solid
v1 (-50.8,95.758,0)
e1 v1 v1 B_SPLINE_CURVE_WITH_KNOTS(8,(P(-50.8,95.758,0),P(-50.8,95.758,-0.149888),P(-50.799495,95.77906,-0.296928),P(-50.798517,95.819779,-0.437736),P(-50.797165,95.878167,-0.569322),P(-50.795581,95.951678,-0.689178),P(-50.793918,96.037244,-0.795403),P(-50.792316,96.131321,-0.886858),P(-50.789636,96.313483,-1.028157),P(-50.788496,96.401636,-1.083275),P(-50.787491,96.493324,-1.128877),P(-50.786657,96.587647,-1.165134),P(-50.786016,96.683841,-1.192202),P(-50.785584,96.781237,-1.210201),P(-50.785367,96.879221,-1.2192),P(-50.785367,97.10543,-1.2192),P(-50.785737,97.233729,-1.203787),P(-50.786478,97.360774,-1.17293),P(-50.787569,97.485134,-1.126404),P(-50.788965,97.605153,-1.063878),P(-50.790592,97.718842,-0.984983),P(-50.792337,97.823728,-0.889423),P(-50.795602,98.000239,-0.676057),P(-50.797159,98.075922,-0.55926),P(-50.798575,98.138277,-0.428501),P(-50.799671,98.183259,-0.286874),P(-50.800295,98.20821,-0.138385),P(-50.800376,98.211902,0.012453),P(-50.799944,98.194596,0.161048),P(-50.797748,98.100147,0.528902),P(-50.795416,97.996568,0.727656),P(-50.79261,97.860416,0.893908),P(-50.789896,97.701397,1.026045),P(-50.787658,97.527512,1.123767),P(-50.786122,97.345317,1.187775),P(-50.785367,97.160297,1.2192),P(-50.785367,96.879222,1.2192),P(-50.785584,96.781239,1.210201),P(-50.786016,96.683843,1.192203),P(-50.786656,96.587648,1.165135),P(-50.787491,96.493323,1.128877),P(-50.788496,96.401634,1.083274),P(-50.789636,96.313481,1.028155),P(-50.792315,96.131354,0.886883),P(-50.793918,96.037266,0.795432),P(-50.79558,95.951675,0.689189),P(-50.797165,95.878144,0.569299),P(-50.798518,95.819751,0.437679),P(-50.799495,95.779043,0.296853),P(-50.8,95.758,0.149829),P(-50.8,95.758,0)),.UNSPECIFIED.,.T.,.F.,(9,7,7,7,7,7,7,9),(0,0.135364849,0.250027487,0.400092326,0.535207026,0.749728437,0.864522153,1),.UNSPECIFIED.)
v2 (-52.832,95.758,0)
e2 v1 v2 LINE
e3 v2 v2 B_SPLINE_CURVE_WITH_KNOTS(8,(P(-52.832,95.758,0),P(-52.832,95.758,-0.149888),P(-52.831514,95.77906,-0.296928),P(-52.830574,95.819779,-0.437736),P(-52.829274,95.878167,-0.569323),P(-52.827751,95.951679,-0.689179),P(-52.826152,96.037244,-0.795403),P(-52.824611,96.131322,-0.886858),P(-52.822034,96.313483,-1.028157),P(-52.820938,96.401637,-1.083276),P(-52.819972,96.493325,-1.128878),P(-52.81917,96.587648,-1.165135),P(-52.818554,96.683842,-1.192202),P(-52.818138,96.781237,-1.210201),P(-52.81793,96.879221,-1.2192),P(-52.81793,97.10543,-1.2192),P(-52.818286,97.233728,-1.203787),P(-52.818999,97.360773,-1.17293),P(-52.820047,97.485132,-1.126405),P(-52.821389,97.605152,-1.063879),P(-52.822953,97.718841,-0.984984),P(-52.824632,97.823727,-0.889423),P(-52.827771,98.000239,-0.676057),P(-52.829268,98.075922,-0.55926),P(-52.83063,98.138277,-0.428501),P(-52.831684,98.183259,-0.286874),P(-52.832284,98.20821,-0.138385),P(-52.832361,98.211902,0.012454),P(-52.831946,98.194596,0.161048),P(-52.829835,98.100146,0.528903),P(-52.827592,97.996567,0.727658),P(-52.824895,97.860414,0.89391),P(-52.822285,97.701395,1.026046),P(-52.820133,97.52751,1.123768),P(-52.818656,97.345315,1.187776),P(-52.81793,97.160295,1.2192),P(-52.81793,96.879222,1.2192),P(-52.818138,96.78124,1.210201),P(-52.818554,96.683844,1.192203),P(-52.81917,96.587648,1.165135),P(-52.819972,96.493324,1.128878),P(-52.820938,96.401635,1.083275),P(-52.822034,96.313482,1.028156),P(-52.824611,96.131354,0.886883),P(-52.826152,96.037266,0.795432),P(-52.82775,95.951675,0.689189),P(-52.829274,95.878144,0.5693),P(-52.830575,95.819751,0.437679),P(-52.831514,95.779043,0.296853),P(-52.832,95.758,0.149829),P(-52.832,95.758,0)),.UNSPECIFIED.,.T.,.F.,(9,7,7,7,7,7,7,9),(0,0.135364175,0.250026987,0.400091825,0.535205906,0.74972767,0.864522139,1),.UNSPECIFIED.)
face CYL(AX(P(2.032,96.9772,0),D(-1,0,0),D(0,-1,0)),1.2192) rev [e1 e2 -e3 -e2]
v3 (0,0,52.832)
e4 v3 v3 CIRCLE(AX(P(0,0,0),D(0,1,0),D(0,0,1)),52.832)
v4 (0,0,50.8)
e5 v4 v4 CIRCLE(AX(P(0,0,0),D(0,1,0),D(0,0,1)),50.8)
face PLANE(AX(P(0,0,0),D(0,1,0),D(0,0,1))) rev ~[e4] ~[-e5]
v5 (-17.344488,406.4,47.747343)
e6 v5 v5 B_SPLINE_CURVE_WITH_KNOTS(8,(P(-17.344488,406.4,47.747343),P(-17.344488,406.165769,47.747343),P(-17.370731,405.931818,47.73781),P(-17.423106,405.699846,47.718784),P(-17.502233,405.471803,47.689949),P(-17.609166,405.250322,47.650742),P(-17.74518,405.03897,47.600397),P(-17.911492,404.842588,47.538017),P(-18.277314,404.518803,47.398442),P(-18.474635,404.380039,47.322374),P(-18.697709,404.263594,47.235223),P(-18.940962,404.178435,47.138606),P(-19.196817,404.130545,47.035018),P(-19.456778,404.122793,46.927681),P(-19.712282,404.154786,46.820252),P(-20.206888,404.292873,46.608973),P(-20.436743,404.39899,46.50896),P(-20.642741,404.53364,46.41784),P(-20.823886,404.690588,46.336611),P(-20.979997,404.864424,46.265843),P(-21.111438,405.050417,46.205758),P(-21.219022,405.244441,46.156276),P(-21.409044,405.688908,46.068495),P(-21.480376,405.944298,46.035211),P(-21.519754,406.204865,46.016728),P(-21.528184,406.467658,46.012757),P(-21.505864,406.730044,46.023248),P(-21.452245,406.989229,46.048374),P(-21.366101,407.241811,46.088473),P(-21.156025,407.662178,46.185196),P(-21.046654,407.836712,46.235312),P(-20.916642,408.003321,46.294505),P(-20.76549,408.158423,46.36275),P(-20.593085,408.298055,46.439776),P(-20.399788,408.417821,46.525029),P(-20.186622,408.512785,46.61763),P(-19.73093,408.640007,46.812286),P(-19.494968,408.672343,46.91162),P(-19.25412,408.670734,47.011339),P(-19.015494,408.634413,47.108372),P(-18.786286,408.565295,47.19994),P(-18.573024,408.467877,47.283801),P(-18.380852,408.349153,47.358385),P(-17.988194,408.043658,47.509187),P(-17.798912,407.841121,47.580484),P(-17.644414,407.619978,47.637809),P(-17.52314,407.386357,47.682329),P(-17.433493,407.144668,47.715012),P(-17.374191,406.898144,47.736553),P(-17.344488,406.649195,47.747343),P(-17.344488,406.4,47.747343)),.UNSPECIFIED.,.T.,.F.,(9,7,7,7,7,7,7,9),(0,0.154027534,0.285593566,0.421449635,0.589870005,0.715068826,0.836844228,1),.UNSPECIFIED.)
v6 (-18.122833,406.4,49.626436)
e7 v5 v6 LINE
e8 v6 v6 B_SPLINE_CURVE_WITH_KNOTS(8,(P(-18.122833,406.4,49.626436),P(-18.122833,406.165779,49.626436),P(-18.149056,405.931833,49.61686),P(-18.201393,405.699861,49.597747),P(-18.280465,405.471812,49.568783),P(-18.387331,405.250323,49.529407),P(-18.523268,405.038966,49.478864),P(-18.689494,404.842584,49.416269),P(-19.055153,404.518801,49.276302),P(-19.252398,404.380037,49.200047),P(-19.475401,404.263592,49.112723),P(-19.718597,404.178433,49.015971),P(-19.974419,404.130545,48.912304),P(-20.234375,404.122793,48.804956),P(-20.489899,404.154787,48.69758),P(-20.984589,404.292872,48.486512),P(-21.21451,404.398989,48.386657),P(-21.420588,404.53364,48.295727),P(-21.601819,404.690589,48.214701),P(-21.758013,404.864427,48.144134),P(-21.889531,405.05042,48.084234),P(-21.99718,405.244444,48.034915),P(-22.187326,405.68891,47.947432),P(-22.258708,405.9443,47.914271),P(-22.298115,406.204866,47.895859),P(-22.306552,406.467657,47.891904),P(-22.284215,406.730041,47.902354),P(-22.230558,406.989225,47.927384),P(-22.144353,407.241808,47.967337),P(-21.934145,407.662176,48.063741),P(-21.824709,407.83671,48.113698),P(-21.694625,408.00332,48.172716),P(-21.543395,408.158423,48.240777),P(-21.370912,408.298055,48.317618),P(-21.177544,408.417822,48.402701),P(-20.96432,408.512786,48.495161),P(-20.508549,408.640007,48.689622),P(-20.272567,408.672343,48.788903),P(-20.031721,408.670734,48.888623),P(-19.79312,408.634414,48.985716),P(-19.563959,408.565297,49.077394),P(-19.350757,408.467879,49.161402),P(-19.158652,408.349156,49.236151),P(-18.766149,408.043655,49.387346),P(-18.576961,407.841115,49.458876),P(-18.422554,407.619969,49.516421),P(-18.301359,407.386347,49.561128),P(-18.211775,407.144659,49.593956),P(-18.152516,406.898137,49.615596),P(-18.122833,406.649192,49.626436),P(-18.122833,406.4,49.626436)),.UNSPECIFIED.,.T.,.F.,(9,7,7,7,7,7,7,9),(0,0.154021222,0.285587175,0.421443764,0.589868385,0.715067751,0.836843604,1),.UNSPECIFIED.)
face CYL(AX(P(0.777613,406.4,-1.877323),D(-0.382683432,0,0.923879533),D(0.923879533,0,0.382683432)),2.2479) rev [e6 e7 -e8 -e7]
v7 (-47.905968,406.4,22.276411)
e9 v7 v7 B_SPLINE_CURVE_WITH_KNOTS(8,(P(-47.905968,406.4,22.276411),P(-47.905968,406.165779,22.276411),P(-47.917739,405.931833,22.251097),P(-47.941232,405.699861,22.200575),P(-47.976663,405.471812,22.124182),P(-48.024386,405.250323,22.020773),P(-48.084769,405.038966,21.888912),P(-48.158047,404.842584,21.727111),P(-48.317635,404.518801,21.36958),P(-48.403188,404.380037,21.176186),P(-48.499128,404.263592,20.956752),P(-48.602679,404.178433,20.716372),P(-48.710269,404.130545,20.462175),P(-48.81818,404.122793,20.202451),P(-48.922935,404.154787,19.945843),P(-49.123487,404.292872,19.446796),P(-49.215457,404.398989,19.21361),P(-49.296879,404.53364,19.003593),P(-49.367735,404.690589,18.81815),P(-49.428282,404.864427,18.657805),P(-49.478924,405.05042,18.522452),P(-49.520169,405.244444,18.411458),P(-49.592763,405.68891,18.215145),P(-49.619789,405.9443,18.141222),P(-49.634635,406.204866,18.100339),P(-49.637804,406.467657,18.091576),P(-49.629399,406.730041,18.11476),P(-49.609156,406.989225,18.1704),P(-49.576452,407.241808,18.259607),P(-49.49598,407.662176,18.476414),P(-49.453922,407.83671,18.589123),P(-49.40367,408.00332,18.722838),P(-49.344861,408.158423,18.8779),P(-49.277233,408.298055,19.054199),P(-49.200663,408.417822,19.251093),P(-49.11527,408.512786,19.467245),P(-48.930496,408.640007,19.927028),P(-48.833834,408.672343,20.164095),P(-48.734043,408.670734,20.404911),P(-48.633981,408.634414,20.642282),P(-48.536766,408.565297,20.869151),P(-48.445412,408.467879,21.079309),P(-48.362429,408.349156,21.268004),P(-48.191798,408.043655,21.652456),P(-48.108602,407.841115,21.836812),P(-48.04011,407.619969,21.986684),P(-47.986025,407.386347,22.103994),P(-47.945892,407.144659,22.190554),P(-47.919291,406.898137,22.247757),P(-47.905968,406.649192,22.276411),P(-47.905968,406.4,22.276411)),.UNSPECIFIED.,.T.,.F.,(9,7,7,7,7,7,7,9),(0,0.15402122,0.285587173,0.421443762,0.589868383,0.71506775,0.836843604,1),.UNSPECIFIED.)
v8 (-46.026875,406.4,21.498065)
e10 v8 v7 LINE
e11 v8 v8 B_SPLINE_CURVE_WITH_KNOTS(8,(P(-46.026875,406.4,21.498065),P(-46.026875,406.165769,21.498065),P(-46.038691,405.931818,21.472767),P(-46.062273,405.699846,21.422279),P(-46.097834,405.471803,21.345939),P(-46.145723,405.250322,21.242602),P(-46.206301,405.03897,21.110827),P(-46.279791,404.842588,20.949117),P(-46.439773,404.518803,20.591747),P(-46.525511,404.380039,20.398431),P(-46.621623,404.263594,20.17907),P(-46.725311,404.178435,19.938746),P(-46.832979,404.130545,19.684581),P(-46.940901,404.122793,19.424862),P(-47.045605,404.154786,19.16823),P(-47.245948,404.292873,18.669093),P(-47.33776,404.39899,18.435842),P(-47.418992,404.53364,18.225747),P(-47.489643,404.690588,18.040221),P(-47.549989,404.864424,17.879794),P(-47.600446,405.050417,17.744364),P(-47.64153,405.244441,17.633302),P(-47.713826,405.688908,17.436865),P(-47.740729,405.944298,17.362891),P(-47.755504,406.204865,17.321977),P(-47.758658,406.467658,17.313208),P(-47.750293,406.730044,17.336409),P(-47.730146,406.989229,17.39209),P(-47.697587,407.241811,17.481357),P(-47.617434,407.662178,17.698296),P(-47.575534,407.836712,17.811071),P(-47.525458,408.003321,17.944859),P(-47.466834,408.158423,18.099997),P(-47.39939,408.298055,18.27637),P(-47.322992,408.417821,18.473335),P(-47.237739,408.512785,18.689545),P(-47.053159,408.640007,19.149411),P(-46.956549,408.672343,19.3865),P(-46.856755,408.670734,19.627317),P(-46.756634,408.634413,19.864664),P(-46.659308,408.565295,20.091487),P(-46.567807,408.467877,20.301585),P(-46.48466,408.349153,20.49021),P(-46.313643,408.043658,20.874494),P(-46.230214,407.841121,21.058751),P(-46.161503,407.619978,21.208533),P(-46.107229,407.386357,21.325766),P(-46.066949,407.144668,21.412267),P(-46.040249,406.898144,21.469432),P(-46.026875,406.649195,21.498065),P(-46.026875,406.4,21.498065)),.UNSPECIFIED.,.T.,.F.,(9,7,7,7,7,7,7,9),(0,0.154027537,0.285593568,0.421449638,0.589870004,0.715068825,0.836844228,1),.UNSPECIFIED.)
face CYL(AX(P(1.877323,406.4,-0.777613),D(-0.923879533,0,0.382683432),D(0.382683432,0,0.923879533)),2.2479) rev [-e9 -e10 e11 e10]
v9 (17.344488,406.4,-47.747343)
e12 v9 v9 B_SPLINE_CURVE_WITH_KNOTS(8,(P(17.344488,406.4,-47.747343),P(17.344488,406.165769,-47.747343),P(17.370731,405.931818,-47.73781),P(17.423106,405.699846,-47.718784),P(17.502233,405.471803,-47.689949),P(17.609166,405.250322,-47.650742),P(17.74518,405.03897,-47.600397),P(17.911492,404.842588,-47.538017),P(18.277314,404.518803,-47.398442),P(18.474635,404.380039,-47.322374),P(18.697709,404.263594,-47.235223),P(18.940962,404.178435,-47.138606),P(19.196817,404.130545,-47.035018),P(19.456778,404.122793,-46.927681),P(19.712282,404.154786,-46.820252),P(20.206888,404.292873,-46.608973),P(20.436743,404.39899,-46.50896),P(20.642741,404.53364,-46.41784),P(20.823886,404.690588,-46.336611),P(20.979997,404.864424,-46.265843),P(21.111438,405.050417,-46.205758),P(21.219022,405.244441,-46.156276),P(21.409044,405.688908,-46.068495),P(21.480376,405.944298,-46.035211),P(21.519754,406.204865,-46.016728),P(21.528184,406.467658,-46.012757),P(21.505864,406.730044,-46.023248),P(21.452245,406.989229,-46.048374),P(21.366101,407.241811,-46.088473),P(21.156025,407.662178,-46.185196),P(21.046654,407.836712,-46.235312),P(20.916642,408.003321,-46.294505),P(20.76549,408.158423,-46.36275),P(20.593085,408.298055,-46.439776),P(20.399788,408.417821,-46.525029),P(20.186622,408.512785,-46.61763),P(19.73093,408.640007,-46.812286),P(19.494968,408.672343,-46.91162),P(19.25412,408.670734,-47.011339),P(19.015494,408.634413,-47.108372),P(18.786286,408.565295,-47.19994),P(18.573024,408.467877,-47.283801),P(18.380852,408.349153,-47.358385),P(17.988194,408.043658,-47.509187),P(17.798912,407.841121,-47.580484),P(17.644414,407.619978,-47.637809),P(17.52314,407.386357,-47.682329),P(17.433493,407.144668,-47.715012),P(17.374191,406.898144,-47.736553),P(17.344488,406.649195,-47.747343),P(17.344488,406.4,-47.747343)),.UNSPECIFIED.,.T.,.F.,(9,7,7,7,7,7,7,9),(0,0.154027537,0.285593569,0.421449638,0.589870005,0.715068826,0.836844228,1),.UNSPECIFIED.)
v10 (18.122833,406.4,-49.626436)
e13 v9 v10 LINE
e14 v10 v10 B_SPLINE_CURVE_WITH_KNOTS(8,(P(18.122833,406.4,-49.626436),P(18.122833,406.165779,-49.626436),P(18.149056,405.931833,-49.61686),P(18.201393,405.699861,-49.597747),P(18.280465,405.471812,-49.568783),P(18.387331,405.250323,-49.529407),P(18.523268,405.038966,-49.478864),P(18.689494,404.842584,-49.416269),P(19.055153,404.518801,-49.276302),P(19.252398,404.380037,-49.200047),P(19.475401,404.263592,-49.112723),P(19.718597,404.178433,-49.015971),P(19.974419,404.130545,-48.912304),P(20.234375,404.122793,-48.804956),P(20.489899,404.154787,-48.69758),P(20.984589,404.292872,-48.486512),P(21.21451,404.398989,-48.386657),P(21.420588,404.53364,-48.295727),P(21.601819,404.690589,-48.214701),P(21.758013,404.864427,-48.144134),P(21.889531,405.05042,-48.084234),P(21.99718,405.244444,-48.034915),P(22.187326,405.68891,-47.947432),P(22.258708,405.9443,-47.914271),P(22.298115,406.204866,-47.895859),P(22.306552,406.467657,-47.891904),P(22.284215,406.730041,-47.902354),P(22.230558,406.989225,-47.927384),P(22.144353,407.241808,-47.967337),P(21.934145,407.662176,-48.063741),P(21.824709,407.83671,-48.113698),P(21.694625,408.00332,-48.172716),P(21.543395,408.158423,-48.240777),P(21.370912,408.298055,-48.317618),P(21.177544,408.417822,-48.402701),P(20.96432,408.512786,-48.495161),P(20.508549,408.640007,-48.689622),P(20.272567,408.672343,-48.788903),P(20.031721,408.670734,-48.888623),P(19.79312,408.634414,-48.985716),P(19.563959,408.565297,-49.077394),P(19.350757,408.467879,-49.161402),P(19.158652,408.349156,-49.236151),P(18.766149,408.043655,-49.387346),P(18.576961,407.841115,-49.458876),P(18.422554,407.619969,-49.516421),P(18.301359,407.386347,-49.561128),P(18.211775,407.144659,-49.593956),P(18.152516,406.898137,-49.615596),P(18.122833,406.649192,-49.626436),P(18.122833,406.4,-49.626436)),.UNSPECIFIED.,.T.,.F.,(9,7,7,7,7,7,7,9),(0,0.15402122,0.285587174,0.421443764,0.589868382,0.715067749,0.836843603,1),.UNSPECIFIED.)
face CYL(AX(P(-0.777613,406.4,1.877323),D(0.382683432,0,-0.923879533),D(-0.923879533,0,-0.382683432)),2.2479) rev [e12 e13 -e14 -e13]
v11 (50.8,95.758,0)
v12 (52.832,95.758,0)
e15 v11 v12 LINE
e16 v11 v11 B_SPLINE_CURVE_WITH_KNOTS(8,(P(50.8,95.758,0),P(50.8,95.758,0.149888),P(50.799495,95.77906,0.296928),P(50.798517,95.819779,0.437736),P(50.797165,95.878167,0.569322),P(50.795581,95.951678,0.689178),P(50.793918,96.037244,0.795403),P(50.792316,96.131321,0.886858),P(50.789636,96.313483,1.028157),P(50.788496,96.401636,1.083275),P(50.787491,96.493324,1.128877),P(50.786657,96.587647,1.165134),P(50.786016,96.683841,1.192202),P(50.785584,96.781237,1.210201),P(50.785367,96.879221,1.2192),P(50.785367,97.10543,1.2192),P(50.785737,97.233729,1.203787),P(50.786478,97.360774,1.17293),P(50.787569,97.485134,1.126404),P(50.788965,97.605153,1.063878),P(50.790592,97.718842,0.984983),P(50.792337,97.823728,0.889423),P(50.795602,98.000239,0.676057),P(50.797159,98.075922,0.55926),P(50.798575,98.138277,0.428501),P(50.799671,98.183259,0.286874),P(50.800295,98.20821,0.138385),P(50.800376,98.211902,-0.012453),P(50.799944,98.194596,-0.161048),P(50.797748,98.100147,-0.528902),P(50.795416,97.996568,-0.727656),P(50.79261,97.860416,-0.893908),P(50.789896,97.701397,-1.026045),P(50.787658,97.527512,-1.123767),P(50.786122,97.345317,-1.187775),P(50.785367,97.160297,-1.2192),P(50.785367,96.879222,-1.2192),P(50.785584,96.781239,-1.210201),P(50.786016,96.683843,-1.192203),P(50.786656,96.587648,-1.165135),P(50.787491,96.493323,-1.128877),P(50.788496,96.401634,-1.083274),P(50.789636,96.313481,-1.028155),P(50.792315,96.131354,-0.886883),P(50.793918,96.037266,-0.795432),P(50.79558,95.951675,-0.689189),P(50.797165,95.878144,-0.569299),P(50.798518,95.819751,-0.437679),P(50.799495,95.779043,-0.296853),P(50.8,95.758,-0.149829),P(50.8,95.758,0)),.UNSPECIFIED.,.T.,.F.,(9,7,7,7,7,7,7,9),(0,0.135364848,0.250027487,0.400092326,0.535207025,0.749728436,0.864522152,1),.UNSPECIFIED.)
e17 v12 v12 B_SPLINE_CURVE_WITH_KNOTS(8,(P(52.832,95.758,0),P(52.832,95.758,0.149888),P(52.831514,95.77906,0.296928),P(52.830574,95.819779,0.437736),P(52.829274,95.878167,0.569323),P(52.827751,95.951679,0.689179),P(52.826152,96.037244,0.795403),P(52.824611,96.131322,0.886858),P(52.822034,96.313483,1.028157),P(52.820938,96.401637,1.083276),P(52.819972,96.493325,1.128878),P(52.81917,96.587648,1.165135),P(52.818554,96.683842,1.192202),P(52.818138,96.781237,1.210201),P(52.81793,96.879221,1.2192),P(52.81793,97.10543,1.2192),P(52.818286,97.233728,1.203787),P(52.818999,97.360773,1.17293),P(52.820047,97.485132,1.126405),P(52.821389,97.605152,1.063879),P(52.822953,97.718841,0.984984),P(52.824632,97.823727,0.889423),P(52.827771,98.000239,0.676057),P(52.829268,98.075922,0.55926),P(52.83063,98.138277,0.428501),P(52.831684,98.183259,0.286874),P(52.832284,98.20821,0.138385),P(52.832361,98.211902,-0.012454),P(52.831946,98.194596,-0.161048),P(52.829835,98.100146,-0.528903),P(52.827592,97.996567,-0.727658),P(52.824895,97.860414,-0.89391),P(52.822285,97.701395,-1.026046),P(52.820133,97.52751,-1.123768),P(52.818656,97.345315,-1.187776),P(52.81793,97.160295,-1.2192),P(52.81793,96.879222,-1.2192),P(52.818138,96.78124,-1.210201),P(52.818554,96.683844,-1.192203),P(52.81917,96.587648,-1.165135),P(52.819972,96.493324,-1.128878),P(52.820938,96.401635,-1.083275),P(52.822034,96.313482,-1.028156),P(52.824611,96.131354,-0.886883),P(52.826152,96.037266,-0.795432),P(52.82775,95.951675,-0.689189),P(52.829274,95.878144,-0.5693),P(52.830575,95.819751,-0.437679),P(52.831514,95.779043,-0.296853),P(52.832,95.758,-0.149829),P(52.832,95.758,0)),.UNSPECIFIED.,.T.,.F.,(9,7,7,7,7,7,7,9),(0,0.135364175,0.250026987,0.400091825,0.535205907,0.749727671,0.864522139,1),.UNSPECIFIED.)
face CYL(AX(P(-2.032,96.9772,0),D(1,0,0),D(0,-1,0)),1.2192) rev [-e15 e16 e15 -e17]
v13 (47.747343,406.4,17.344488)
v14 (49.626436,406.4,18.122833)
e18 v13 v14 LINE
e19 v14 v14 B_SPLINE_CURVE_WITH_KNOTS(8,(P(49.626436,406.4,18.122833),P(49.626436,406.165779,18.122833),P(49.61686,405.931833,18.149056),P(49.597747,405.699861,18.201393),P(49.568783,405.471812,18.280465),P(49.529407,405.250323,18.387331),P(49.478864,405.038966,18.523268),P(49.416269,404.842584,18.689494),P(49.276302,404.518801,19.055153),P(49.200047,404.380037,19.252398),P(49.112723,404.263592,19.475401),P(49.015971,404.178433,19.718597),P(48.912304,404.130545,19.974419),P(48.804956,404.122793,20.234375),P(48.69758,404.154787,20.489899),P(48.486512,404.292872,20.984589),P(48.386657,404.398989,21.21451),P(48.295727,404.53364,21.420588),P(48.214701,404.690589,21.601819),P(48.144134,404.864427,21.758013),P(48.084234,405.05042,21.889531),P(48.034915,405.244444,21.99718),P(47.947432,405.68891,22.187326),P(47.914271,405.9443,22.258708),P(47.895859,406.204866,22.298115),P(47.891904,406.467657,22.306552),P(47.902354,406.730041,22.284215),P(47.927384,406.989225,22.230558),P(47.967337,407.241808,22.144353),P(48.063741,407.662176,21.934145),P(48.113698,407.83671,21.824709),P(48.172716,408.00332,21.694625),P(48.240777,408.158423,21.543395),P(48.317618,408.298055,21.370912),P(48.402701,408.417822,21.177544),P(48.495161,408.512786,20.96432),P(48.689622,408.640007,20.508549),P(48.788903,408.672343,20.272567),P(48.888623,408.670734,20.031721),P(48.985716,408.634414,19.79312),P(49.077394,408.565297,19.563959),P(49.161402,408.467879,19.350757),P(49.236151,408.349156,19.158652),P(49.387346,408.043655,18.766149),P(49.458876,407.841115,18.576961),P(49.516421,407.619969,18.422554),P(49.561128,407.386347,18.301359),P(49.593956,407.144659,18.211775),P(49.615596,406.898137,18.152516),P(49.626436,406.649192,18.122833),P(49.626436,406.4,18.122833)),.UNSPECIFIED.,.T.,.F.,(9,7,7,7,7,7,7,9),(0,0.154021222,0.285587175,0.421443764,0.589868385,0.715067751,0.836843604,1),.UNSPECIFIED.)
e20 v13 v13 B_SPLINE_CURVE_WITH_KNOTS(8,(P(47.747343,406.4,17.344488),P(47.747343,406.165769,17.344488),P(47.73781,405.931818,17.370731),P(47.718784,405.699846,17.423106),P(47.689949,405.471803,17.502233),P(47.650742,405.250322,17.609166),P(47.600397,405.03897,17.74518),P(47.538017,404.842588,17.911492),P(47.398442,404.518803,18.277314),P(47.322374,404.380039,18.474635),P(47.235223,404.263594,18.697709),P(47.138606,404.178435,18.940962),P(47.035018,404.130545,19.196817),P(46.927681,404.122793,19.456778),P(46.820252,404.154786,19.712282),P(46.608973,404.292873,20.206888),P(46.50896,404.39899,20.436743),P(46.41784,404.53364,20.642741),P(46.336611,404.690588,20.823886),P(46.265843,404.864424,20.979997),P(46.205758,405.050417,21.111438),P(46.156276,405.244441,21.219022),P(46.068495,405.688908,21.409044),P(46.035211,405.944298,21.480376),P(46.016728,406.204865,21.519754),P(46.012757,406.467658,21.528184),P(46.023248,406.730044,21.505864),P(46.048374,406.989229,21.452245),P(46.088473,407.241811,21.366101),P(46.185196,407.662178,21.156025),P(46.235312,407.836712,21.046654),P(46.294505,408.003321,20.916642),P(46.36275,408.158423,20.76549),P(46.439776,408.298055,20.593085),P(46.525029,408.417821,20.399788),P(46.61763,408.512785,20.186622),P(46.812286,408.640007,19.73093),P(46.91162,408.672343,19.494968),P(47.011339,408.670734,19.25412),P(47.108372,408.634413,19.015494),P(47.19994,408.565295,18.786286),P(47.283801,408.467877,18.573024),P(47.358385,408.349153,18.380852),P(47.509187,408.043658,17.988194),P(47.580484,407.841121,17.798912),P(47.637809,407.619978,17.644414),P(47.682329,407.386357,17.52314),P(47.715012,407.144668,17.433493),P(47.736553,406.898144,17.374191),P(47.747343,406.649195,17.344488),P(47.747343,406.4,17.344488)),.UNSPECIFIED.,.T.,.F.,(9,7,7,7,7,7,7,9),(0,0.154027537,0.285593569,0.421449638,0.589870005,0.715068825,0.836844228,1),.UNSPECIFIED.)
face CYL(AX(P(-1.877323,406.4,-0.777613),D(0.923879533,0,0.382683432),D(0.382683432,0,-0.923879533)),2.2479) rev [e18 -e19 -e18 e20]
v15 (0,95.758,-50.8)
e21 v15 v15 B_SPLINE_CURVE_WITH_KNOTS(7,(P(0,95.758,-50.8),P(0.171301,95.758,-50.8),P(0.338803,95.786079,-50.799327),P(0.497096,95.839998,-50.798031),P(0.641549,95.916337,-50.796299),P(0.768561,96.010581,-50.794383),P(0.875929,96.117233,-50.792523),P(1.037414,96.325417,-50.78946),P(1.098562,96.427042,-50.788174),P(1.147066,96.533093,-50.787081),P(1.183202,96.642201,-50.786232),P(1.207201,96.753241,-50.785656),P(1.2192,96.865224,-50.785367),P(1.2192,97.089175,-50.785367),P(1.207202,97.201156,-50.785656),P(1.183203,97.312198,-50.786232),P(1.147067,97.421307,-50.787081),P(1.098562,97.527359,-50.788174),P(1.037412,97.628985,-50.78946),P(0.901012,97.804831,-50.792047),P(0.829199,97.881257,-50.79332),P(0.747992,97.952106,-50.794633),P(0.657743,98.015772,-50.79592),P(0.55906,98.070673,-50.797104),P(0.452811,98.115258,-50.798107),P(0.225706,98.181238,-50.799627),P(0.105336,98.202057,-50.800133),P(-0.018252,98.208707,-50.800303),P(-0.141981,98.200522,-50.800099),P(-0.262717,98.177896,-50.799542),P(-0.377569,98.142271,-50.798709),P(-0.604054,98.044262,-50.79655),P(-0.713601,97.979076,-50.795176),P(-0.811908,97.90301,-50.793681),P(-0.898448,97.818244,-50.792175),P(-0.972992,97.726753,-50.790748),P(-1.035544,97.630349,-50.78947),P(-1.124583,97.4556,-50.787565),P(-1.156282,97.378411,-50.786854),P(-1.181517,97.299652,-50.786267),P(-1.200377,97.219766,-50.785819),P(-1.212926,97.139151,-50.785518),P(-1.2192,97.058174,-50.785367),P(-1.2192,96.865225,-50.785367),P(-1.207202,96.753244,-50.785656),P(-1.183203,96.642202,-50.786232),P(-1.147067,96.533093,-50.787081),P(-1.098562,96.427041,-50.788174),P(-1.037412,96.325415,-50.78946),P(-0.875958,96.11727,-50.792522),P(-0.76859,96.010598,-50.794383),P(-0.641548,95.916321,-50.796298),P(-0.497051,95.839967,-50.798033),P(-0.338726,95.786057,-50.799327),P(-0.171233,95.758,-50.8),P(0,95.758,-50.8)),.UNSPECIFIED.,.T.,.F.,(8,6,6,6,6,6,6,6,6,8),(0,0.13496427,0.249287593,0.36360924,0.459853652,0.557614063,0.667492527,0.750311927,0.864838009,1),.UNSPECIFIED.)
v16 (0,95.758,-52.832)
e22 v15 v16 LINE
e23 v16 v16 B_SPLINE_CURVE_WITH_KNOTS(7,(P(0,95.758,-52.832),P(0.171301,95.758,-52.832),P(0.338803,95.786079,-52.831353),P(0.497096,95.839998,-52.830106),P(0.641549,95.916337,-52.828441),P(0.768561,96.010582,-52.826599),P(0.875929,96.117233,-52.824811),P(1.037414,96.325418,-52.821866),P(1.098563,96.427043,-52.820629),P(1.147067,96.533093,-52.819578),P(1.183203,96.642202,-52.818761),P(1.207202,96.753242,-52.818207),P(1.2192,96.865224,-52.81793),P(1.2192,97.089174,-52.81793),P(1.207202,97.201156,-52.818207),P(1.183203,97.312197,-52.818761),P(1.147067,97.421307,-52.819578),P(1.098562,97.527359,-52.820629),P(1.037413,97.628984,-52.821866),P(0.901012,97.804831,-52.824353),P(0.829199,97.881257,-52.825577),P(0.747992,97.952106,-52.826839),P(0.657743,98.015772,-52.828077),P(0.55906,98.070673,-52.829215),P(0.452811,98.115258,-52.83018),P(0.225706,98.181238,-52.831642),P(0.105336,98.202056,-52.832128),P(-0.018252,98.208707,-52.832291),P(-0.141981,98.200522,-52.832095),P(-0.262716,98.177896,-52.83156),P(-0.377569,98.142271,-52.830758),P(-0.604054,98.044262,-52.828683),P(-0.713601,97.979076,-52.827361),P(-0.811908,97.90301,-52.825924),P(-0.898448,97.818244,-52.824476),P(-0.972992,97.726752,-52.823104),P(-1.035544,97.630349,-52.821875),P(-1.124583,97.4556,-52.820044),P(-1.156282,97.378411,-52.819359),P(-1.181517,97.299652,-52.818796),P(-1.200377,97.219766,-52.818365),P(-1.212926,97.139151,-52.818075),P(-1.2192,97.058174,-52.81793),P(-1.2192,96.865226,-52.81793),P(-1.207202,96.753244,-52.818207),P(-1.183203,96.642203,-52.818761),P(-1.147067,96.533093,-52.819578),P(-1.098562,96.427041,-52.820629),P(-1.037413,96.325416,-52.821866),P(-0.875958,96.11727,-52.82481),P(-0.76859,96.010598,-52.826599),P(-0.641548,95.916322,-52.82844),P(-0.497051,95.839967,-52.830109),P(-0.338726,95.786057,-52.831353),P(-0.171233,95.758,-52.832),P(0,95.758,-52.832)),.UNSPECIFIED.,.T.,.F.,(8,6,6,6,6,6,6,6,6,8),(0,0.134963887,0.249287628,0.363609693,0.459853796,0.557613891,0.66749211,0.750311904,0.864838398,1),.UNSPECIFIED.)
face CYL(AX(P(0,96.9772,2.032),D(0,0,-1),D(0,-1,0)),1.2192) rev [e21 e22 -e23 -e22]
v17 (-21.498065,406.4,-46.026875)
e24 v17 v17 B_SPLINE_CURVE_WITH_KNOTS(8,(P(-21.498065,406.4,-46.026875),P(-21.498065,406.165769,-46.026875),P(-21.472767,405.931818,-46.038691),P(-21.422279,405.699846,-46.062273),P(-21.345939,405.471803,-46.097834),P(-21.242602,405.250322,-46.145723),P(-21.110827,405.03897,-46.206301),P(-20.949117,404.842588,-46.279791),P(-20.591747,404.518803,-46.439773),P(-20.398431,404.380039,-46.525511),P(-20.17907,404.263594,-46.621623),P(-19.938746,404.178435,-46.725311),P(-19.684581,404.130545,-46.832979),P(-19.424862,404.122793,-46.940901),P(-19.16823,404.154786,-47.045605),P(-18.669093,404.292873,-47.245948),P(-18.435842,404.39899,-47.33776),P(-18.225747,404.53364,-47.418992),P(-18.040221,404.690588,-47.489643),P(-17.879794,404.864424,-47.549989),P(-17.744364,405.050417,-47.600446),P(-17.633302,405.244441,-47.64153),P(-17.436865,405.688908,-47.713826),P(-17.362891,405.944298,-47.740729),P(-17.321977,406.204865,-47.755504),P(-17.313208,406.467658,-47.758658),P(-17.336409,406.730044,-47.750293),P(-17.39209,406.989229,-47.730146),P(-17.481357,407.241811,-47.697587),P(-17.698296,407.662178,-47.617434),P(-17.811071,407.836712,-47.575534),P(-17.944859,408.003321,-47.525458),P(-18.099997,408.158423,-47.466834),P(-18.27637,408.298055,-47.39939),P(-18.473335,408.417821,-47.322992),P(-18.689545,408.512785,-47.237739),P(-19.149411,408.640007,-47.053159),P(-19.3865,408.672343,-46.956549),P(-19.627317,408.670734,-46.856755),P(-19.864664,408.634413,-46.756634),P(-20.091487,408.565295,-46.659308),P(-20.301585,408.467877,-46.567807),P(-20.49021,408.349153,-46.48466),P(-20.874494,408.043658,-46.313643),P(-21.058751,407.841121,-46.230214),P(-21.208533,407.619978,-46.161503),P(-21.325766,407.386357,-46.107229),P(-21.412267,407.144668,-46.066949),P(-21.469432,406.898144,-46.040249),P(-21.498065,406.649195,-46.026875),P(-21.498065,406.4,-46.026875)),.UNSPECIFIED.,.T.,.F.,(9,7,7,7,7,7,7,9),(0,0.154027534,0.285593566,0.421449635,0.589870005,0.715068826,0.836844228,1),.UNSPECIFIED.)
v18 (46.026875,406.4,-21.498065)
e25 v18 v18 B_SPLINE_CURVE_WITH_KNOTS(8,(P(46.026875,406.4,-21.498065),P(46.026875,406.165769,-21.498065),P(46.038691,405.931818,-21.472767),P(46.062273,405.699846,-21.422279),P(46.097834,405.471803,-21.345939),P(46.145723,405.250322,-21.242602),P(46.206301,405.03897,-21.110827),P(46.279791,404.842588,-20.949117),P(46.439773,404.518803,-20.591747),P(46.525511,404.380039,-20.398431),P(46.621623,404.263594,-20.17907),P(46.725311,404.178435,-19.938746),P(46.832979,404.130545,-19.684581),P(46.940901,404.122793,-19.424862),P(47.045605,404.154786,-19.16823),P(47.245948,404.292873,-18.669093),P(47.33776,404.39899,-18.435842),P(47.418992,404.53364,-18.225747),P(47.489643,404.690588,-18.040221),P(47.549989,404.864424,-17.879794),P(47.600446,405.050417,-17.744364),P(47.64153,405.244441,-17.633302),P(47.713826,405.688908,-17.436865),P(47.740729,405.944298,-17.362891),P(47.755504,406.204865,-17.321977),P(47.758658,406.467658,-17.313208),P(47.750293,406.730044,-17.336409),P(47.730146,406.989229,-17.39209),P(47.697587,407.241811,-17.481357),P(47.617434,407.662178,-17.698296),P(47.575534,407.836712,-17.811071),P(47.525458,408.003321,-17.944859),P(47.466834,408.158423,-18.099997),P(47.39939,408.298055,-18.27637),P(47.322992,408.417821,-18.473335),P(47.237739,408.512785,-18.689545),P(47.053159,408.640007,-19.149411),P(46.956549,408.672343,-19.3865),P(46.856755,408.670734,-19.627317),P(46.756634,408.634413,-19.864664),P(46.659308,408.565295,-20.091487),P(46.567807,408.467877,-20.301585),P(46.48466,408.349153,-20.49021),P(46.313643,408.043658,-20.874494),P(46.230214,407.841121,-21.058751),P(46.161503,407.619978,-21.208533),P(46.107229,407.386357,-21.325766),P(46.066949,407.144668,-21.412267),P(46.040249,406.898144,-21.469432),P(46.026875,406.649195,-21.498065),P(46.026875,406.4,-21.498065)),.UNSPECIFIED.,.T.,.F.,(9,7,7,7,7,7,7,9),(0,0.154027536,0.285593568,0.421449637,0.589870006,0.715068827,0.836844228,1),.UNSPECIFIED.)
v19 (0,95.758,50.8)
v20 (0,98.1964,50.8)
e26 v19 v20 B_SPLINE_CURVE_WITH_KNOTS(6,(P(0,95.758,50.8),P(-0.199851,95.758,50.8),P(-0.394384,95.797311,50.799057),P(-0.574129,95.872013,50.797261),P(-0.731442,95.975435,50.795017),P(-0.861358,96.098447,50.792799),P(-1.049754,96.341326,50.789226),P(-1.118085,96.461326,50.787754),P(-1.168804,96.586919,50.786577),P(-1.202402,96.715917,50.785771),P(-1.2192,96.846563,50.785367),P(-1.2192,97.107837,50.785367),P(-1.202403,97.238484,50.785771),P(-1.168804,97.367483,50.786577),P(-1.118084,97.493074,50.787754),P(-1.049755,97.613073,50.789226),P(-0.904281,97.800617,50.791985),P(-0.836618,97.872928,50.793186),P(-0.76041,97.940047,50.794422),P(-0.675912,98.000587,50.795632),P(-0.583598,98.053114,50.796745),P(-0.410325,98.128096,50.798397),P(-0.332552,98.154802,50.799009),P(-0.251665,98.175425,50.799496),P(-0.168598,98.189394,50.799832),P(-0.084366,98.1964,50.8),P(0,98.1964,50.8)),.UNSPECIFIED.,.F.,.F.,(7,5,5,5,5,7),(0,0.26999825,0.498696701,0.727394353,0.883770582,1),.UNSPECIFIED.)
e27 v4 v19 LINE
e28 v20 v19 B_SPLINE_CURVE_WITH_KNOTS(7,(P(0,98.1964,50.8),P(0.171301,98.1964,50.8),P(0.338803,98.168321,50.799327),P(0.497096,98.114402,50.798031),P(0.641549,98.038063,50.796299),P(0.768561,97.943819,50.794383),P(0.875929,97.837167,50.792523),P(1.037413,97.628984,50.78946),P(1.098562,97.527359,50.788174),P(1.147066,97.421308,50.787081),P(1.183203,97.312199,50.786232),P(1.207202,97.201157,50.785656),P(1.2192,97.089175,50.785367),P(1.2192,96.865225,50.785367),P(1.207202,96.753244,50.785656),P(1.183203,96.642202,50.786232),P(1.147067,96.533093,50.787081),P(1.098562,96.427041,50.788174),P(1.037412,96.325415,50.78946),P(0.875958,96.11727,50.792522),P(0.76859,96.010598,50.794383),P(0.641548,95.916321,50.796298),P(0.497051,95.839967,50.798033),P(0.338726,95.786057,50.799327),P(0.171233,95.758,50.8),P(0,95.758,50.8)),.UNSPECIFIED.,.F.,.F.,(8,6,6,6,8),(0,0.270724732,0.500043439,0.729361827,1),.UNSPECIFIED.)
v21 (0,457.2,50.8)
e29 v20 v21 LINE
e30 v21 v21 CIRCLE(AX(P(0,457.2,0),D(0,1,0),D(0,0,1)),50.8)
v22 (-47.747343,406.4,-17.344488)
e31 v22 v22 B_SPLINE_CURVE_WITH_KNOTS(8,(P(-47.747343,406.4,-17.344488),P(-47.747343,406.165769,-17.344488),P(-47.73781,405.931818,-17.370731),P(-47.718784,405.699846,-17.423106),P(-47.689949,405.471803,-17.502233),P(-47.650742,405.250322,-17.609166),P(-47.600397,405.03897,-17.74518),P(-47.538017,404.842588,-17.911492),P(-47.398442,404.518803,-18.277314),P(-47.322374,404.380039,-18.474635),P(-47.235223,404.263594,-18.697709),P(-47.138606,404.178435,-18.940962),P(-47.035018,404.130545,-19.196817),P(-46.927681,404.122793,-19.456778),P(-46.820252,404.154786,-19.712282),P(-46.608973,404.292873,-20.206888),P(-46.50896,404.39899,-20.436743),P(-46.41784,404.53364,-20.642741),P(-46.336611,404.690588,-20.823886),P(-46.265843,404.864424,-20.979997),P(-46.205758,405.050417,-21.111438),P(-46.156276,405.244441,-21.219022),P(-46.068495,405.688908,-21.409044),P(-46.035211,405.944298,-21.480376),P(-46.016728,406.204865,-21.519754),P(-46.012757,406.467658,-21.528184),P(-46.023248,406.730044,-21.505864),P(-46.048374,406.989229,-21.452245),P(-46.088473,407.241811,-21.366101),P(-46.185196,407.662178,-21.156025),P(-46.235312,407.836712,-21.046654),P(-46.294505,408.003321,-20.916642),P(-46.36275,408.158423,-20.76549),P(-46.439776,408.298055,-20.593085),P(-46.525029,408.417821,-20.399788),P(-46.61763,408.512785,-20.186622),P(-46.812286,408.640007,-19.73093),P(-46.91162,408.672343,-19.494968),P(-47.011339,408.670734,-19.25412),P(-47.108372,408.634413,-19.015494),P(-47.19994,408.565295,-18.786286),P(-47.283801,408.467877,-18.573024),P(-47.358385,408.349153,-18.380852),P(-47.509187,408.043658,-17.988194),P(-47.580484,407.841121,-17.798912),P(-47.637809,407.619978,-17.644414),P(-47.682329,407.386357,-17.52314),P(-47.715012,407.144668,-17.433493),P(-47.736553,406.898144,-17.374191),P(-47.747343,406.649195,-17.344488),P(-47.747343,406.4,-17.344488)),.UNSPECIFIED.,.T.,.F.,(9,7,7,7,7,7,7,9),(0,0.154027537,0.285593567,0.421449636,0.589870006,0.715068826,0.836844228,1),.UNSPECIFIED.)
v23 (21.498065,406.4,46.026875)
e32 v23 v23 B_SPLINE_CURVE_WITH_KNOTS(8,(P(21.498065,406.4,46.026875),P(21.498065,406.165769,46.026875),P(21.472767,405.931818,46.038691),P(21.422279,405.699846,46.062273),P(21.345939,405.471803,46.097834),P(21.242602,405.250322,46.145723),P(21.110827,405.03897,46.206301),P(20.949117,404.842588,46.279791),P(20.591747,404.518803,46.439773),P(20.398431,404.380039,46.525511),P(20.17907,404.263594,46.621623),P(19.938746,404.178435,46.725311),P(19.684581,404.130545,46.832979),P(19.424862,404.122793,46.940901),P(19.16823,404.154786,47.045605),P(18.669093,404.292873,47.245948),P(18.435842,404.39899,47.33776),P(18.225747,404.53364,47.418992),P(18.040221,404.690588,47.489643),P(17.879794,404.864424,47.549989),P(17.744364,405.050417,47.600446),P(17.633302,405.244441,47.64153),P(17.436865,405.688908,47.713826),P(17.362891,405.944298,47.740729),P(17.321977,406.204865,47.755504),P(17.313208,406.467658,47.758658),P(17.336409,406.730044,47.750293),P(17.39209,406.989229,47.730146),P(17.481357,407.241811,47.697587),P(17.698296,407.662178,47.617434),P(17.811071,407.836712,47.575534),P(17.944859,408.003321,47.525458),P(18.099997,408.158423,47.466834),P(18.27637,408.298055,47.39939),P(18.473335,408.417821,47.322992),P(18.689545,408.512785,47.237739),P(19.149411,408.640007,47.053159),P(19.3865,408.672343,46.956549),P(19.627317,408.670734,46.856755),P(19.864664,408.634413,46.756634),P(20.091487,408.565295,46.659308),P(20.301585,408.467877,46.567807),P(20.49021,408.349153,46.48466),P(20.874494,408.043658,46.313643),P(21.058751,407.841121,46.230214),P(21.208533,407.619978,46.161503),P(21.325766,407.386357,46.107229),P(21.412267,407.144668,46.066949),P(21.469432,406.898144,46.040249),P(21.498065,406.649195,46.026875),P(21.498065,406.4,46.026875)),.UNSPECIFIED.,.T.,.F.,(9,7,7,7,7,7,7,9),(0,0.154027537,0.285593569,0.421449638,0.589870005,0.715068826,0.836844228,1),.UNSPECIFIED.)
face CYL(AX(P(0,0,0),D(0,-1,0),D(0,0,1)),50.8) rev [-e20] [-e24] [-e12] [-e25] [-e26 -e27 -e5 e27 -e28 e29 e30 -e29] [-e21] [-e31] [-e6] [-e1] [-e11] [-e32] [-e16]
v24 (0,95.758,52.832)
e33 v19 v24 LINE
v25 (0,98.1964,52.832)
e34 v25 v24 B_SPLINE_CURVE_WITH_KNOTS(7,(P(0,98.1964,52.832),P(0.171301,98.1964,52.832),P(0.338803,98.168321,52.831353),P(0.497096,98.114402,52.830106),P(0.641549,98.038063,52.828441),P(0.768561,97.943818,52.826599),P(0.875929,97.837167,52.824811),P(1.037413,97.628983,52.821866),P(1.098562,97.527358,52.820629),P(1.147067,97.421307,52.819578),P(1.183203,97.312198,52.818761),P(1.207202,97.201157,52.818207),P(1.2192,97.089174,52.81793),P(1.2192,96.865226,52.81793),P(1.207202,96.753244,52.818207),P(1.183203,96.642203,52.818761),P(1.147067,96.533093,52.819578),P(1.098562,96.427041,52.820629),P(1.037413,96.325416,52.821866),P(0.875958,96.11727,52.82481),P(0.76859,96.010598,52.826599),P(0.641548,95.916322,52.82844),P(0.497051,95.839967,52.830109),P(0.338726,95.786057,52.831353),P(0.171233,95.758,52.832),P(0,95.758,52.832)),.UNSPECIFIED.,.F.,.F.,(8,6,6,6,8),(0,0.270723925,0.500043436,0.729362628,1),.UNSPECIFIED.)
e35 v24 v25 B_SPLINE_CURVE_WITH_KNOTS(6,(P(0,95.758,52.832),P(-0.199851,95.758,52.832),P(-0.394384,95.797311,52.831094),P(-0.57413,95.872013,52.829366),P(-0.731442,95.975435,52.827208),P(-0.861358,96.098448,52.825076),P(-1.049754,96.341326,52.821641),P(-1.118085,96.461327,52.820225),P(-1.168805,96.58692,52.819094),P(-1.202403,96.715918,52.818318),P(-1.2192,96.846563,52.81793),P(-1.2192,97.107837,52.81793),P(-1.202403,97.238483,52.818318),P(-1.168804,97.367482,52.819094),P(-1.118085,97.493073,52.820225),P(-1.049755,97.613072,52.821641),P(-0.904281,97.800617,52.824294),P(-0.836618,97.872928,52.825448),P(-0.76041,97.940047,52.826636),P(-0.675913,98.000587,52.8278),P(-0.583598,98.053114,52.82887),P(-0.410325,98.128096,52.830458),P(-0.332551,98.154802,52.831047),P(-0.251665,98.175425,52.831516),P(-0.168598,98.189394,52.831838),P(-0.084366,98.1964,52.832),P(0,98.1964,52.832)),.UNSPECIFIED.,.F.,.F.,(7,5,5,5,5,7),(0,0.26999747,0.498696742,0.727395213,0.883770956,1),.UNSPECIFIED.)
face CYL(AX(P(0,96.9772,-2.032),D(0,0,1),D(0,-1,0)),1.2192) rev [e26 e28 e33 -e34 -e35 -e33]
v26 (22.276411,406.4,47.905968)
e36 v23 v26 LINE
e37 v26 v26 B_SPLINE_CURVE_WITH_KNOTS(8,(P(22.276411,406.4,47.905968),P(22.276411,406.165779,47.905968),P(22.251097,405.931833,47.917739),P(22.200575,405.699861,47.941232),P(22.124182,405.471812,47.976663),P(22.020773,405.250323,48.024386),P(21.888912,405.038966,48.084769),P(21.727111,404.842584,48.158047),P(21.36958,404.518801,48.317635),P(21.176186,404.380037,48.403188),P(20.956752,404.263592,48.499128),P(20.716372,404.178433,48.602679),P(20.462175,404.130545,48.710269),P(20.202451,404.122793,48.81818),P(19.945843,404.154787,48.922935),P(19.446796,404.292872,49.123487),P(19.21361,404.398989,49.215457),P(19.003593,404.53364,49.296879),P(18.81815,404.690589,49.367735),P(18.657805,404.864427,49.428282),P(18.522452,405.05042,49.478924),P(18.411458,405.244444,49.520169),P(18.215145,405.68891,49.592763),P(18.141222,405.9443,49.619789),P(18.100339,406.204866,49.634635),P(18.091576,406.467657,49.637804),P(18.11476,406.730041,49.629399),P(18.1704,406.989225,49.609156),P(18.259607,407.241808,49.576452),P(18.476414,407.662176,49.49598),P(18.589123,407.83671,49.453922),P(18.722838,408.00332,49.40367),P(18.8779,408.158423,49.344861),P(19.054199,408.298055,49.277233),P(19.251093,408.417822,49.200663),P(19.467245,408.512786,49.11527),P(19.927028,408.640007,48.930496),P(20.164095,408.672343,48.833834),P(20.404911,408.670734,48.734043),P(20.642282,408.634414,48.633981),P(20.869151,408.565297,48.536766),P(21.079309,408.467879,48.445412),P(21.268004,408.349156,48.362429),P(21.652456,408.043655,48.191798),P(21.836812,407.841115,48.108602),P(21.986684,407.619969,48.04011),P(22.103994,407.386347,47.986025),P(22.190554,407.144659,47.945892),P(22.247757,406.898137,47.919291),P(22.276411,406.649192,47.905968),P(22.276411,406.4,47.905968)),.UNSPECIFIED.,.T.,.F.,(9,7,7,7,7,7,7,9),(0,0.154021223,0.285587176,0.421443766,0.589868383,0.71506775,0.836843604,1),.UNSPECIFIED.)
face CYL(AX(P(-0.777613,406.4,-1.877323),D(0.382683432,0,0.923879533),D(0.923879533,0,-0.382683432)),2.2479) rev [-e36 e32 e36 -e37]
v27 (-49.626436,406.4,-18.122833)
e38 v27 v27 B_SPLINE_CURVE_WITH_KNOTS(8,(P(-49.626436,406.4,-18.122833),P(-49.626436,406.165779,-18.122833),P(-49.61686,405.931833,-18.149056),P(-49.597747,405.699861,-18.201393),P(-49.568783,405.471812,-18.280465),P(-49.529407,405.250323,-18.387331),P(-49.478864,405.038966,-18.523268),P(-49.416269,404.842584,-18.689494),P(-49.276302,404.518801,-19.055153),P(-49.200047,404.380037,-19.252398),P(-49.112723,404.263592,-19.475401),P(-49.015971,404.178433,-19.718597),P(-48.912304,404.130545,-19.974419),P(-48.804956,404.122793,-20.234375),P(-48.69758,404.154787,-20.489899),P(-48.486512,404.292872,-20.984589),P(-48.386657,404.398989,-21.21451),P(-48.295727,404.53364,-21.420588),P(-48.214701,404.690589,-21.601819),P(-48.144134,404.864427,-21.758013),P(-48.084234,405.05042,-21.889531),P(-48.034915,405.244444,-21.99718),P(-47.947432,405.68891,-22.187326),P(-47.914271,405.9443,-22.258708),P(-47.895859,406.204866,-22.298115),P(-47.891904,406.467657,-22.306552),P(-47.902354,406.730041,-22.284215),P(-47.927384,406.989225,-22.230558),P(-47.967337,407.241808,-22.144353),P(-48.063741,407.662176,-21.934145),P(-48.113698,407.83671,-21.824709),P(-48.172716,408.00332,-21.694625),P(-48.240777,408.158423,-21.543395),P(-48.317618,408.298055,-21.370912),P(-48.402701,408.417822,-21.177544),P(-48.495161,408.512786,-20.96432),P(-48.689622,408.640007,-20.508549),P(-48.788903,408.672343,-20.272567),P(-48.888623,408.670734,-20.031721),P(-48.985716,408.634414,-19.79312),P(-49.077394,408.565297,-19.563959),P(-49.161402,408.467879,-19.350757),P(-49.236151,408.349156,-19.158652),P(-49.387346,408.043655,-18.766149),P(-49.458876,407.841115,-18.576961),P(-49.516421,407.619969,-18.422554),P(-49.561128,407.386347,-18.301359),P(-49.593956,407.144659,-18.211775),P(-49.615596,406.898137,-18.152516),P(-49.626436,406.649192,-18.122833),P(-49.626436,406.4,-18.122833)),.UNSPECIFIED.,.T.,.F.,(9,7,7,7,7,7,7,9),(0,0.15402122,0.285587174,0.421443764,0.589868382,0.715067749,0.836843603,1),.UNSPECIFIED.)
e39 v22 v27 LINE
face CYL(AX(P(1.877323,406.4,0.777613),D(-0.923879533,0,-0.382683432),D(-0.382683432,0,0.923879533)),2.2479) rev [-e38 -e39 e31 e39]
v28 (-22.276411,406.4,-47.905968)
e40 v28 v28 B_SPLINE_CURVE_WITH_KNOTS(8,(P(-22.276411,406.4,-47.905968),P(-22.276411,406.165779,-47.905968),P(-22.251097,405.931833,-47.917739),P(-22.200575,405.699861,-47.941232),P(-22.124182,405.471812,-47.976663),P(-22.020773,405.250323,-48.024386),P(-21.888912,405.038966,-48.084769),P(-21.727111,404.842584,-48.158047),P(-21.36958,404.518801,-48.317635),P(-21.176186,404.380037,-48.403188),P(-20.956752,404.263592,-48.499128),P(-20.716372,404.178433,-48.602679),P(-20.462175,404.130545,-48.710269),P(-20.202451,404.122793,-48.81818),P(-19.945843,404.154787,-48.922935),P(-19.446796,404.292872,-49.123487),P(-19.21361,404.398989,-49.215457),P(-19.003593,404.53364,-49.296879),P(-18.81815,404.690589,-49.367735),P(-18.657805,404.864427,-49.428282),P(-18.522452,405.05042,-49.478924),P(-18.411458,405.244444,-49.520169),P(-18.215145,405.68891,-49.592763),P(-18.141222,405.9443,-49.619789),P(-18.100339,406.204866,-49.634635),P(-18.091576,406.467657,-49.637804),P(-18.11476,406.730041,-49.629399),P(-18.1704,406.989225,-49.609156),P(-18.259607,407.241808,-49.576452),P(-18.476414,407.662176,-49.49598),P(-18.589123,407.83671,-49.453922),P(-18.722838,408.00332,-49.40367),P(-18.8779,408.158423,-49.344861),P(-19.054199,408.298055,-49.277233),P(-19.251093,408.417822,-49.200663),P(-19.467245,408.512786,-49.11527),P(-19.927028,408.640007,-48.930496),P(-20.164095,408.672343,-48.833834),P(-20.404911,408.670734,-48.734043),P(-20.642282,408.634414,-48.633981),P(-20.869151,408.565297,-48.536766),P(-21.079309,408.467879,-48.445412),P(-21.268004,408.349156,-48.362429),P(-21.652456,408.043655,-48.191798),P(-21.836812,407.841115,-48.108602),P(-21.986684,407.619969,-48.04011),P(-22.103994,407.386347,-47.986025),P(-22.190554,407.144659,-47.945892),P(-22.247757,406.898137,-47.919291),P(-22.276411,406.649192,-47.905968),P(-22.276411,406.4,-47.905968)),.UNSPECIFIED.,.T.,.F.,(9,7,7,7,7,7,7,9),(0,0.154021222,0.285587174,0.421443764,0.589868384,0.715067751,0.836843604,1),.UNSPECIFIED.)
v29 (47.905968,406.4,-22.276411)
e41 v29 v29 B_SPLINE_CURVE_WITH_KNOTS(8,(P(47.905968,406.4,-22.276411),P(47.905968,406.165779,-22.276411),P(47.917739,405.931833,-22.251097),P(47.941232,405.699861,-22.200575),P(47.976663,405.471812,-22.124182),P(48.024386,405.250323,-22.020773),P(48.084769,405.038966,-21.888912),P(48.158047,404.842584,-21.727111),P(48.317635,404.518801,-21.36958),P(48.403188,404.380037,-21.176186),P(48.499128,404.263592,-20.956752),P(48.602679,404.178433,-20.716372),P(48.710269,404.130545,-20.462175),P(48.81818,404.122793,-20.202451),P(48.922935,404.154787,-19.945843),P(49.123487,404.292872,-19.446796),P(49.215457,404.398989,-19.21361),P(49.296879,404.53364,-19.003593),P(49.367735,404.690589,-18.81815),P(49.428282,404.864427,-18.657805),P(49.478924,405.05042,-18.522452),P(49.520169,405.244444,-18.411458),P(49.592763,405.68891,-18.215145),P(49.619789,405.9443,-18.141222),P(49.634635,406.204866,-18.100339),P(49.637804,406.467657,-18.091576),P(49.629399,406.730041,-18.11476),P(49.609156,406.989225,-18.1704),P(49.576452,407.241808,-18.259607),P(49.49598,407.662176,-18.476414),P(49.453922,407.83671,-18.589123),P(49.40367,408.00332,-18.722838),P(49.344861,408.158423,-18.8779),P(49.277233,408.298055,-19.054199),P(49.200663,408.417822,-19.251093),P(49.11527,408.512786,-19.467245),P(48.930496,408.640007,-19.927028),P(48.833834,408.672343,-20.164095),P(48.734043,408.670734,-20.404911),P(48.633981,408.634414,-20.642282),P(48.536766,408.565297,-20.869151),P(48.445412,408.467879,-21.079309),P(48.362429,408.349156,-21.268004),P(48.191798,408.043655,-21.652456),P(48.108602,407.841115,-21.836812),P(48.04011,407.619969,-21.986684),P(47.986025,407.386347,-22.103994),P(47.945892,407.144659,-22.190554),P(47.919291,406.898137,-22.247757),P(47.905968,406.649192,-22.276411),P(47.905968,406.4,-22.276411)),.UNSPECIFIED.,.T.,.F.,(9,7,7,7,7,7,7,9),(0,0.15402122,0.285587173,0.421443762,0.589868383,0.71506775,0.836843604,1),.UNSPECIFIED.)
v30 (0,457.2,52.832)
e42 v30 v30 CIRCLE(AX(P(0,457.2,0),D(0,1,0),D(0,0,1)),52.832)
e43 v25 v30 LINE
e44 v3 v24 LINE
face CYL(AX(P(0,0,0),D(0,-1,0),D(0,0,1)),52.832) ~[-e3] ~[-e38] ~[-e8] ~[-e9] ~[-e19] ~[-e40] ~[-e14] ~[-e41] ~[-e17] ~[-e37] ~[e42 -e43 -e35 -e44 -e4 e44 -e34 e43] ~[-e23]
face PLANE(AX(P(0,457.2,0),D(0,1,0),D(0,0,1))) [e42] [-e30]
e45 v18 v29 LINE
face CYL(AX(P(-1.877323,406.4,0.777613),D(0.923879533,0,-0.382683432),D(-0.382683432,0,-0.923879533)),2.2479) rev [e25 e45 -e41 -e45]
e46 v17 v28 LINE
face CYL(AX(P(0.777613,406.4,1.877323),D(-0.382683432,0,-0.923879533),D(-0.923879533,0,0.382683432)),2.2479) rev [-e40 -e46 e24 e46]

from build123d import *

# Parameters (mm, degrees)
SKETCH1_R           = 52.832
SKETCH1_R_2         = 50.8
BOSS_EXTRUDE1_DEPTH = 457.2
CIRPATTERN1_COUNT   = 4
CIRPATTERN2_COUNT   = 8


with BuildPart() as part:
    # Sketch1 → Boss-Extrude1 (new body)
    with BuildSketch(Plane(origin=(0, 0, 0), x_dir=(1, 0, 0), z_dir=(0, 1, 0))):
        with Locations(Location((0, 0, 0), (0, 0, 270))):
            Circle(SKETCH1_R)
        with Locations(Location((0, 0, 0), (0, 0, 270))):
            Circle(SKETCH1_R_2, mode=Mode.SUBTRACT)
    extrude(amount=BOSS_EXTRUDE1_DEPTH)

    # Sketch4 → #2 Clearance Hole1 (revolve, cut)
    with BuildSketch(Plane(origin=(0, 96.9772, 52.832), x_dir=(0, -1, 0), z_dir=(1, 0, 0))):
        Polygon((0, 0), (0, 55.596569267), (1.2192, 54.864), (1.2192, 0), align=None)
    f_2_clearance_hole1 = revolve(axis=Axis((0, 96.9772, 59.182), (0, 0, -1)), mode=Mode.SUBTRACT)

    # Sketch6 → #8 Clearance Hole1 (revolve, cut)
    with BuildSketch(Plane(origin=(20.217931099, 406.4, 48.810403462), x_dir=(0.9238795325112864, 0, -0.38268343236509056), z_dir=(0, 1, 0))):
        Polygon((0, 0), (0, 56.214674586), (2.2479, 54.864), (2.2479, 0), align=None)
    f_8_clearance_hole1 = revolve(axis=Axis((22.647970894, 406.4, 54.677038493), (-0.38268343236509056, 0, -0.9238795325112865)), mode=Mode.SUBTRACT)

    # CirPattern1: #2 Clearance Hole1 ×4 about axis
    cirpattern1_axis = Axis((0, 457.2, 0), (0, -1, 0))
    for i in range(1, CIRPATTERN1_COUNT):
        add(f_2_clearance_hole1.rotate(cirpattern1_axis, i * 360 / CIRPATTERN1_COUNT), mode=Mode.SUBTRACT)

    # CirPattern2: #8 Clearance Hole1 ×8 about axis
    cirpattern2_axis = Axis((0, 457.2, 0), (0, -1, 0))
    for i in range(1, CIRPATTERN2_COUNT):
        add(f_8_clearance_hole1.rotate(cirpattern2_axis, i * 360 / CIRPATTERN2_COUNT), mode=Mode.SUBTRACT)


solid = part.part
